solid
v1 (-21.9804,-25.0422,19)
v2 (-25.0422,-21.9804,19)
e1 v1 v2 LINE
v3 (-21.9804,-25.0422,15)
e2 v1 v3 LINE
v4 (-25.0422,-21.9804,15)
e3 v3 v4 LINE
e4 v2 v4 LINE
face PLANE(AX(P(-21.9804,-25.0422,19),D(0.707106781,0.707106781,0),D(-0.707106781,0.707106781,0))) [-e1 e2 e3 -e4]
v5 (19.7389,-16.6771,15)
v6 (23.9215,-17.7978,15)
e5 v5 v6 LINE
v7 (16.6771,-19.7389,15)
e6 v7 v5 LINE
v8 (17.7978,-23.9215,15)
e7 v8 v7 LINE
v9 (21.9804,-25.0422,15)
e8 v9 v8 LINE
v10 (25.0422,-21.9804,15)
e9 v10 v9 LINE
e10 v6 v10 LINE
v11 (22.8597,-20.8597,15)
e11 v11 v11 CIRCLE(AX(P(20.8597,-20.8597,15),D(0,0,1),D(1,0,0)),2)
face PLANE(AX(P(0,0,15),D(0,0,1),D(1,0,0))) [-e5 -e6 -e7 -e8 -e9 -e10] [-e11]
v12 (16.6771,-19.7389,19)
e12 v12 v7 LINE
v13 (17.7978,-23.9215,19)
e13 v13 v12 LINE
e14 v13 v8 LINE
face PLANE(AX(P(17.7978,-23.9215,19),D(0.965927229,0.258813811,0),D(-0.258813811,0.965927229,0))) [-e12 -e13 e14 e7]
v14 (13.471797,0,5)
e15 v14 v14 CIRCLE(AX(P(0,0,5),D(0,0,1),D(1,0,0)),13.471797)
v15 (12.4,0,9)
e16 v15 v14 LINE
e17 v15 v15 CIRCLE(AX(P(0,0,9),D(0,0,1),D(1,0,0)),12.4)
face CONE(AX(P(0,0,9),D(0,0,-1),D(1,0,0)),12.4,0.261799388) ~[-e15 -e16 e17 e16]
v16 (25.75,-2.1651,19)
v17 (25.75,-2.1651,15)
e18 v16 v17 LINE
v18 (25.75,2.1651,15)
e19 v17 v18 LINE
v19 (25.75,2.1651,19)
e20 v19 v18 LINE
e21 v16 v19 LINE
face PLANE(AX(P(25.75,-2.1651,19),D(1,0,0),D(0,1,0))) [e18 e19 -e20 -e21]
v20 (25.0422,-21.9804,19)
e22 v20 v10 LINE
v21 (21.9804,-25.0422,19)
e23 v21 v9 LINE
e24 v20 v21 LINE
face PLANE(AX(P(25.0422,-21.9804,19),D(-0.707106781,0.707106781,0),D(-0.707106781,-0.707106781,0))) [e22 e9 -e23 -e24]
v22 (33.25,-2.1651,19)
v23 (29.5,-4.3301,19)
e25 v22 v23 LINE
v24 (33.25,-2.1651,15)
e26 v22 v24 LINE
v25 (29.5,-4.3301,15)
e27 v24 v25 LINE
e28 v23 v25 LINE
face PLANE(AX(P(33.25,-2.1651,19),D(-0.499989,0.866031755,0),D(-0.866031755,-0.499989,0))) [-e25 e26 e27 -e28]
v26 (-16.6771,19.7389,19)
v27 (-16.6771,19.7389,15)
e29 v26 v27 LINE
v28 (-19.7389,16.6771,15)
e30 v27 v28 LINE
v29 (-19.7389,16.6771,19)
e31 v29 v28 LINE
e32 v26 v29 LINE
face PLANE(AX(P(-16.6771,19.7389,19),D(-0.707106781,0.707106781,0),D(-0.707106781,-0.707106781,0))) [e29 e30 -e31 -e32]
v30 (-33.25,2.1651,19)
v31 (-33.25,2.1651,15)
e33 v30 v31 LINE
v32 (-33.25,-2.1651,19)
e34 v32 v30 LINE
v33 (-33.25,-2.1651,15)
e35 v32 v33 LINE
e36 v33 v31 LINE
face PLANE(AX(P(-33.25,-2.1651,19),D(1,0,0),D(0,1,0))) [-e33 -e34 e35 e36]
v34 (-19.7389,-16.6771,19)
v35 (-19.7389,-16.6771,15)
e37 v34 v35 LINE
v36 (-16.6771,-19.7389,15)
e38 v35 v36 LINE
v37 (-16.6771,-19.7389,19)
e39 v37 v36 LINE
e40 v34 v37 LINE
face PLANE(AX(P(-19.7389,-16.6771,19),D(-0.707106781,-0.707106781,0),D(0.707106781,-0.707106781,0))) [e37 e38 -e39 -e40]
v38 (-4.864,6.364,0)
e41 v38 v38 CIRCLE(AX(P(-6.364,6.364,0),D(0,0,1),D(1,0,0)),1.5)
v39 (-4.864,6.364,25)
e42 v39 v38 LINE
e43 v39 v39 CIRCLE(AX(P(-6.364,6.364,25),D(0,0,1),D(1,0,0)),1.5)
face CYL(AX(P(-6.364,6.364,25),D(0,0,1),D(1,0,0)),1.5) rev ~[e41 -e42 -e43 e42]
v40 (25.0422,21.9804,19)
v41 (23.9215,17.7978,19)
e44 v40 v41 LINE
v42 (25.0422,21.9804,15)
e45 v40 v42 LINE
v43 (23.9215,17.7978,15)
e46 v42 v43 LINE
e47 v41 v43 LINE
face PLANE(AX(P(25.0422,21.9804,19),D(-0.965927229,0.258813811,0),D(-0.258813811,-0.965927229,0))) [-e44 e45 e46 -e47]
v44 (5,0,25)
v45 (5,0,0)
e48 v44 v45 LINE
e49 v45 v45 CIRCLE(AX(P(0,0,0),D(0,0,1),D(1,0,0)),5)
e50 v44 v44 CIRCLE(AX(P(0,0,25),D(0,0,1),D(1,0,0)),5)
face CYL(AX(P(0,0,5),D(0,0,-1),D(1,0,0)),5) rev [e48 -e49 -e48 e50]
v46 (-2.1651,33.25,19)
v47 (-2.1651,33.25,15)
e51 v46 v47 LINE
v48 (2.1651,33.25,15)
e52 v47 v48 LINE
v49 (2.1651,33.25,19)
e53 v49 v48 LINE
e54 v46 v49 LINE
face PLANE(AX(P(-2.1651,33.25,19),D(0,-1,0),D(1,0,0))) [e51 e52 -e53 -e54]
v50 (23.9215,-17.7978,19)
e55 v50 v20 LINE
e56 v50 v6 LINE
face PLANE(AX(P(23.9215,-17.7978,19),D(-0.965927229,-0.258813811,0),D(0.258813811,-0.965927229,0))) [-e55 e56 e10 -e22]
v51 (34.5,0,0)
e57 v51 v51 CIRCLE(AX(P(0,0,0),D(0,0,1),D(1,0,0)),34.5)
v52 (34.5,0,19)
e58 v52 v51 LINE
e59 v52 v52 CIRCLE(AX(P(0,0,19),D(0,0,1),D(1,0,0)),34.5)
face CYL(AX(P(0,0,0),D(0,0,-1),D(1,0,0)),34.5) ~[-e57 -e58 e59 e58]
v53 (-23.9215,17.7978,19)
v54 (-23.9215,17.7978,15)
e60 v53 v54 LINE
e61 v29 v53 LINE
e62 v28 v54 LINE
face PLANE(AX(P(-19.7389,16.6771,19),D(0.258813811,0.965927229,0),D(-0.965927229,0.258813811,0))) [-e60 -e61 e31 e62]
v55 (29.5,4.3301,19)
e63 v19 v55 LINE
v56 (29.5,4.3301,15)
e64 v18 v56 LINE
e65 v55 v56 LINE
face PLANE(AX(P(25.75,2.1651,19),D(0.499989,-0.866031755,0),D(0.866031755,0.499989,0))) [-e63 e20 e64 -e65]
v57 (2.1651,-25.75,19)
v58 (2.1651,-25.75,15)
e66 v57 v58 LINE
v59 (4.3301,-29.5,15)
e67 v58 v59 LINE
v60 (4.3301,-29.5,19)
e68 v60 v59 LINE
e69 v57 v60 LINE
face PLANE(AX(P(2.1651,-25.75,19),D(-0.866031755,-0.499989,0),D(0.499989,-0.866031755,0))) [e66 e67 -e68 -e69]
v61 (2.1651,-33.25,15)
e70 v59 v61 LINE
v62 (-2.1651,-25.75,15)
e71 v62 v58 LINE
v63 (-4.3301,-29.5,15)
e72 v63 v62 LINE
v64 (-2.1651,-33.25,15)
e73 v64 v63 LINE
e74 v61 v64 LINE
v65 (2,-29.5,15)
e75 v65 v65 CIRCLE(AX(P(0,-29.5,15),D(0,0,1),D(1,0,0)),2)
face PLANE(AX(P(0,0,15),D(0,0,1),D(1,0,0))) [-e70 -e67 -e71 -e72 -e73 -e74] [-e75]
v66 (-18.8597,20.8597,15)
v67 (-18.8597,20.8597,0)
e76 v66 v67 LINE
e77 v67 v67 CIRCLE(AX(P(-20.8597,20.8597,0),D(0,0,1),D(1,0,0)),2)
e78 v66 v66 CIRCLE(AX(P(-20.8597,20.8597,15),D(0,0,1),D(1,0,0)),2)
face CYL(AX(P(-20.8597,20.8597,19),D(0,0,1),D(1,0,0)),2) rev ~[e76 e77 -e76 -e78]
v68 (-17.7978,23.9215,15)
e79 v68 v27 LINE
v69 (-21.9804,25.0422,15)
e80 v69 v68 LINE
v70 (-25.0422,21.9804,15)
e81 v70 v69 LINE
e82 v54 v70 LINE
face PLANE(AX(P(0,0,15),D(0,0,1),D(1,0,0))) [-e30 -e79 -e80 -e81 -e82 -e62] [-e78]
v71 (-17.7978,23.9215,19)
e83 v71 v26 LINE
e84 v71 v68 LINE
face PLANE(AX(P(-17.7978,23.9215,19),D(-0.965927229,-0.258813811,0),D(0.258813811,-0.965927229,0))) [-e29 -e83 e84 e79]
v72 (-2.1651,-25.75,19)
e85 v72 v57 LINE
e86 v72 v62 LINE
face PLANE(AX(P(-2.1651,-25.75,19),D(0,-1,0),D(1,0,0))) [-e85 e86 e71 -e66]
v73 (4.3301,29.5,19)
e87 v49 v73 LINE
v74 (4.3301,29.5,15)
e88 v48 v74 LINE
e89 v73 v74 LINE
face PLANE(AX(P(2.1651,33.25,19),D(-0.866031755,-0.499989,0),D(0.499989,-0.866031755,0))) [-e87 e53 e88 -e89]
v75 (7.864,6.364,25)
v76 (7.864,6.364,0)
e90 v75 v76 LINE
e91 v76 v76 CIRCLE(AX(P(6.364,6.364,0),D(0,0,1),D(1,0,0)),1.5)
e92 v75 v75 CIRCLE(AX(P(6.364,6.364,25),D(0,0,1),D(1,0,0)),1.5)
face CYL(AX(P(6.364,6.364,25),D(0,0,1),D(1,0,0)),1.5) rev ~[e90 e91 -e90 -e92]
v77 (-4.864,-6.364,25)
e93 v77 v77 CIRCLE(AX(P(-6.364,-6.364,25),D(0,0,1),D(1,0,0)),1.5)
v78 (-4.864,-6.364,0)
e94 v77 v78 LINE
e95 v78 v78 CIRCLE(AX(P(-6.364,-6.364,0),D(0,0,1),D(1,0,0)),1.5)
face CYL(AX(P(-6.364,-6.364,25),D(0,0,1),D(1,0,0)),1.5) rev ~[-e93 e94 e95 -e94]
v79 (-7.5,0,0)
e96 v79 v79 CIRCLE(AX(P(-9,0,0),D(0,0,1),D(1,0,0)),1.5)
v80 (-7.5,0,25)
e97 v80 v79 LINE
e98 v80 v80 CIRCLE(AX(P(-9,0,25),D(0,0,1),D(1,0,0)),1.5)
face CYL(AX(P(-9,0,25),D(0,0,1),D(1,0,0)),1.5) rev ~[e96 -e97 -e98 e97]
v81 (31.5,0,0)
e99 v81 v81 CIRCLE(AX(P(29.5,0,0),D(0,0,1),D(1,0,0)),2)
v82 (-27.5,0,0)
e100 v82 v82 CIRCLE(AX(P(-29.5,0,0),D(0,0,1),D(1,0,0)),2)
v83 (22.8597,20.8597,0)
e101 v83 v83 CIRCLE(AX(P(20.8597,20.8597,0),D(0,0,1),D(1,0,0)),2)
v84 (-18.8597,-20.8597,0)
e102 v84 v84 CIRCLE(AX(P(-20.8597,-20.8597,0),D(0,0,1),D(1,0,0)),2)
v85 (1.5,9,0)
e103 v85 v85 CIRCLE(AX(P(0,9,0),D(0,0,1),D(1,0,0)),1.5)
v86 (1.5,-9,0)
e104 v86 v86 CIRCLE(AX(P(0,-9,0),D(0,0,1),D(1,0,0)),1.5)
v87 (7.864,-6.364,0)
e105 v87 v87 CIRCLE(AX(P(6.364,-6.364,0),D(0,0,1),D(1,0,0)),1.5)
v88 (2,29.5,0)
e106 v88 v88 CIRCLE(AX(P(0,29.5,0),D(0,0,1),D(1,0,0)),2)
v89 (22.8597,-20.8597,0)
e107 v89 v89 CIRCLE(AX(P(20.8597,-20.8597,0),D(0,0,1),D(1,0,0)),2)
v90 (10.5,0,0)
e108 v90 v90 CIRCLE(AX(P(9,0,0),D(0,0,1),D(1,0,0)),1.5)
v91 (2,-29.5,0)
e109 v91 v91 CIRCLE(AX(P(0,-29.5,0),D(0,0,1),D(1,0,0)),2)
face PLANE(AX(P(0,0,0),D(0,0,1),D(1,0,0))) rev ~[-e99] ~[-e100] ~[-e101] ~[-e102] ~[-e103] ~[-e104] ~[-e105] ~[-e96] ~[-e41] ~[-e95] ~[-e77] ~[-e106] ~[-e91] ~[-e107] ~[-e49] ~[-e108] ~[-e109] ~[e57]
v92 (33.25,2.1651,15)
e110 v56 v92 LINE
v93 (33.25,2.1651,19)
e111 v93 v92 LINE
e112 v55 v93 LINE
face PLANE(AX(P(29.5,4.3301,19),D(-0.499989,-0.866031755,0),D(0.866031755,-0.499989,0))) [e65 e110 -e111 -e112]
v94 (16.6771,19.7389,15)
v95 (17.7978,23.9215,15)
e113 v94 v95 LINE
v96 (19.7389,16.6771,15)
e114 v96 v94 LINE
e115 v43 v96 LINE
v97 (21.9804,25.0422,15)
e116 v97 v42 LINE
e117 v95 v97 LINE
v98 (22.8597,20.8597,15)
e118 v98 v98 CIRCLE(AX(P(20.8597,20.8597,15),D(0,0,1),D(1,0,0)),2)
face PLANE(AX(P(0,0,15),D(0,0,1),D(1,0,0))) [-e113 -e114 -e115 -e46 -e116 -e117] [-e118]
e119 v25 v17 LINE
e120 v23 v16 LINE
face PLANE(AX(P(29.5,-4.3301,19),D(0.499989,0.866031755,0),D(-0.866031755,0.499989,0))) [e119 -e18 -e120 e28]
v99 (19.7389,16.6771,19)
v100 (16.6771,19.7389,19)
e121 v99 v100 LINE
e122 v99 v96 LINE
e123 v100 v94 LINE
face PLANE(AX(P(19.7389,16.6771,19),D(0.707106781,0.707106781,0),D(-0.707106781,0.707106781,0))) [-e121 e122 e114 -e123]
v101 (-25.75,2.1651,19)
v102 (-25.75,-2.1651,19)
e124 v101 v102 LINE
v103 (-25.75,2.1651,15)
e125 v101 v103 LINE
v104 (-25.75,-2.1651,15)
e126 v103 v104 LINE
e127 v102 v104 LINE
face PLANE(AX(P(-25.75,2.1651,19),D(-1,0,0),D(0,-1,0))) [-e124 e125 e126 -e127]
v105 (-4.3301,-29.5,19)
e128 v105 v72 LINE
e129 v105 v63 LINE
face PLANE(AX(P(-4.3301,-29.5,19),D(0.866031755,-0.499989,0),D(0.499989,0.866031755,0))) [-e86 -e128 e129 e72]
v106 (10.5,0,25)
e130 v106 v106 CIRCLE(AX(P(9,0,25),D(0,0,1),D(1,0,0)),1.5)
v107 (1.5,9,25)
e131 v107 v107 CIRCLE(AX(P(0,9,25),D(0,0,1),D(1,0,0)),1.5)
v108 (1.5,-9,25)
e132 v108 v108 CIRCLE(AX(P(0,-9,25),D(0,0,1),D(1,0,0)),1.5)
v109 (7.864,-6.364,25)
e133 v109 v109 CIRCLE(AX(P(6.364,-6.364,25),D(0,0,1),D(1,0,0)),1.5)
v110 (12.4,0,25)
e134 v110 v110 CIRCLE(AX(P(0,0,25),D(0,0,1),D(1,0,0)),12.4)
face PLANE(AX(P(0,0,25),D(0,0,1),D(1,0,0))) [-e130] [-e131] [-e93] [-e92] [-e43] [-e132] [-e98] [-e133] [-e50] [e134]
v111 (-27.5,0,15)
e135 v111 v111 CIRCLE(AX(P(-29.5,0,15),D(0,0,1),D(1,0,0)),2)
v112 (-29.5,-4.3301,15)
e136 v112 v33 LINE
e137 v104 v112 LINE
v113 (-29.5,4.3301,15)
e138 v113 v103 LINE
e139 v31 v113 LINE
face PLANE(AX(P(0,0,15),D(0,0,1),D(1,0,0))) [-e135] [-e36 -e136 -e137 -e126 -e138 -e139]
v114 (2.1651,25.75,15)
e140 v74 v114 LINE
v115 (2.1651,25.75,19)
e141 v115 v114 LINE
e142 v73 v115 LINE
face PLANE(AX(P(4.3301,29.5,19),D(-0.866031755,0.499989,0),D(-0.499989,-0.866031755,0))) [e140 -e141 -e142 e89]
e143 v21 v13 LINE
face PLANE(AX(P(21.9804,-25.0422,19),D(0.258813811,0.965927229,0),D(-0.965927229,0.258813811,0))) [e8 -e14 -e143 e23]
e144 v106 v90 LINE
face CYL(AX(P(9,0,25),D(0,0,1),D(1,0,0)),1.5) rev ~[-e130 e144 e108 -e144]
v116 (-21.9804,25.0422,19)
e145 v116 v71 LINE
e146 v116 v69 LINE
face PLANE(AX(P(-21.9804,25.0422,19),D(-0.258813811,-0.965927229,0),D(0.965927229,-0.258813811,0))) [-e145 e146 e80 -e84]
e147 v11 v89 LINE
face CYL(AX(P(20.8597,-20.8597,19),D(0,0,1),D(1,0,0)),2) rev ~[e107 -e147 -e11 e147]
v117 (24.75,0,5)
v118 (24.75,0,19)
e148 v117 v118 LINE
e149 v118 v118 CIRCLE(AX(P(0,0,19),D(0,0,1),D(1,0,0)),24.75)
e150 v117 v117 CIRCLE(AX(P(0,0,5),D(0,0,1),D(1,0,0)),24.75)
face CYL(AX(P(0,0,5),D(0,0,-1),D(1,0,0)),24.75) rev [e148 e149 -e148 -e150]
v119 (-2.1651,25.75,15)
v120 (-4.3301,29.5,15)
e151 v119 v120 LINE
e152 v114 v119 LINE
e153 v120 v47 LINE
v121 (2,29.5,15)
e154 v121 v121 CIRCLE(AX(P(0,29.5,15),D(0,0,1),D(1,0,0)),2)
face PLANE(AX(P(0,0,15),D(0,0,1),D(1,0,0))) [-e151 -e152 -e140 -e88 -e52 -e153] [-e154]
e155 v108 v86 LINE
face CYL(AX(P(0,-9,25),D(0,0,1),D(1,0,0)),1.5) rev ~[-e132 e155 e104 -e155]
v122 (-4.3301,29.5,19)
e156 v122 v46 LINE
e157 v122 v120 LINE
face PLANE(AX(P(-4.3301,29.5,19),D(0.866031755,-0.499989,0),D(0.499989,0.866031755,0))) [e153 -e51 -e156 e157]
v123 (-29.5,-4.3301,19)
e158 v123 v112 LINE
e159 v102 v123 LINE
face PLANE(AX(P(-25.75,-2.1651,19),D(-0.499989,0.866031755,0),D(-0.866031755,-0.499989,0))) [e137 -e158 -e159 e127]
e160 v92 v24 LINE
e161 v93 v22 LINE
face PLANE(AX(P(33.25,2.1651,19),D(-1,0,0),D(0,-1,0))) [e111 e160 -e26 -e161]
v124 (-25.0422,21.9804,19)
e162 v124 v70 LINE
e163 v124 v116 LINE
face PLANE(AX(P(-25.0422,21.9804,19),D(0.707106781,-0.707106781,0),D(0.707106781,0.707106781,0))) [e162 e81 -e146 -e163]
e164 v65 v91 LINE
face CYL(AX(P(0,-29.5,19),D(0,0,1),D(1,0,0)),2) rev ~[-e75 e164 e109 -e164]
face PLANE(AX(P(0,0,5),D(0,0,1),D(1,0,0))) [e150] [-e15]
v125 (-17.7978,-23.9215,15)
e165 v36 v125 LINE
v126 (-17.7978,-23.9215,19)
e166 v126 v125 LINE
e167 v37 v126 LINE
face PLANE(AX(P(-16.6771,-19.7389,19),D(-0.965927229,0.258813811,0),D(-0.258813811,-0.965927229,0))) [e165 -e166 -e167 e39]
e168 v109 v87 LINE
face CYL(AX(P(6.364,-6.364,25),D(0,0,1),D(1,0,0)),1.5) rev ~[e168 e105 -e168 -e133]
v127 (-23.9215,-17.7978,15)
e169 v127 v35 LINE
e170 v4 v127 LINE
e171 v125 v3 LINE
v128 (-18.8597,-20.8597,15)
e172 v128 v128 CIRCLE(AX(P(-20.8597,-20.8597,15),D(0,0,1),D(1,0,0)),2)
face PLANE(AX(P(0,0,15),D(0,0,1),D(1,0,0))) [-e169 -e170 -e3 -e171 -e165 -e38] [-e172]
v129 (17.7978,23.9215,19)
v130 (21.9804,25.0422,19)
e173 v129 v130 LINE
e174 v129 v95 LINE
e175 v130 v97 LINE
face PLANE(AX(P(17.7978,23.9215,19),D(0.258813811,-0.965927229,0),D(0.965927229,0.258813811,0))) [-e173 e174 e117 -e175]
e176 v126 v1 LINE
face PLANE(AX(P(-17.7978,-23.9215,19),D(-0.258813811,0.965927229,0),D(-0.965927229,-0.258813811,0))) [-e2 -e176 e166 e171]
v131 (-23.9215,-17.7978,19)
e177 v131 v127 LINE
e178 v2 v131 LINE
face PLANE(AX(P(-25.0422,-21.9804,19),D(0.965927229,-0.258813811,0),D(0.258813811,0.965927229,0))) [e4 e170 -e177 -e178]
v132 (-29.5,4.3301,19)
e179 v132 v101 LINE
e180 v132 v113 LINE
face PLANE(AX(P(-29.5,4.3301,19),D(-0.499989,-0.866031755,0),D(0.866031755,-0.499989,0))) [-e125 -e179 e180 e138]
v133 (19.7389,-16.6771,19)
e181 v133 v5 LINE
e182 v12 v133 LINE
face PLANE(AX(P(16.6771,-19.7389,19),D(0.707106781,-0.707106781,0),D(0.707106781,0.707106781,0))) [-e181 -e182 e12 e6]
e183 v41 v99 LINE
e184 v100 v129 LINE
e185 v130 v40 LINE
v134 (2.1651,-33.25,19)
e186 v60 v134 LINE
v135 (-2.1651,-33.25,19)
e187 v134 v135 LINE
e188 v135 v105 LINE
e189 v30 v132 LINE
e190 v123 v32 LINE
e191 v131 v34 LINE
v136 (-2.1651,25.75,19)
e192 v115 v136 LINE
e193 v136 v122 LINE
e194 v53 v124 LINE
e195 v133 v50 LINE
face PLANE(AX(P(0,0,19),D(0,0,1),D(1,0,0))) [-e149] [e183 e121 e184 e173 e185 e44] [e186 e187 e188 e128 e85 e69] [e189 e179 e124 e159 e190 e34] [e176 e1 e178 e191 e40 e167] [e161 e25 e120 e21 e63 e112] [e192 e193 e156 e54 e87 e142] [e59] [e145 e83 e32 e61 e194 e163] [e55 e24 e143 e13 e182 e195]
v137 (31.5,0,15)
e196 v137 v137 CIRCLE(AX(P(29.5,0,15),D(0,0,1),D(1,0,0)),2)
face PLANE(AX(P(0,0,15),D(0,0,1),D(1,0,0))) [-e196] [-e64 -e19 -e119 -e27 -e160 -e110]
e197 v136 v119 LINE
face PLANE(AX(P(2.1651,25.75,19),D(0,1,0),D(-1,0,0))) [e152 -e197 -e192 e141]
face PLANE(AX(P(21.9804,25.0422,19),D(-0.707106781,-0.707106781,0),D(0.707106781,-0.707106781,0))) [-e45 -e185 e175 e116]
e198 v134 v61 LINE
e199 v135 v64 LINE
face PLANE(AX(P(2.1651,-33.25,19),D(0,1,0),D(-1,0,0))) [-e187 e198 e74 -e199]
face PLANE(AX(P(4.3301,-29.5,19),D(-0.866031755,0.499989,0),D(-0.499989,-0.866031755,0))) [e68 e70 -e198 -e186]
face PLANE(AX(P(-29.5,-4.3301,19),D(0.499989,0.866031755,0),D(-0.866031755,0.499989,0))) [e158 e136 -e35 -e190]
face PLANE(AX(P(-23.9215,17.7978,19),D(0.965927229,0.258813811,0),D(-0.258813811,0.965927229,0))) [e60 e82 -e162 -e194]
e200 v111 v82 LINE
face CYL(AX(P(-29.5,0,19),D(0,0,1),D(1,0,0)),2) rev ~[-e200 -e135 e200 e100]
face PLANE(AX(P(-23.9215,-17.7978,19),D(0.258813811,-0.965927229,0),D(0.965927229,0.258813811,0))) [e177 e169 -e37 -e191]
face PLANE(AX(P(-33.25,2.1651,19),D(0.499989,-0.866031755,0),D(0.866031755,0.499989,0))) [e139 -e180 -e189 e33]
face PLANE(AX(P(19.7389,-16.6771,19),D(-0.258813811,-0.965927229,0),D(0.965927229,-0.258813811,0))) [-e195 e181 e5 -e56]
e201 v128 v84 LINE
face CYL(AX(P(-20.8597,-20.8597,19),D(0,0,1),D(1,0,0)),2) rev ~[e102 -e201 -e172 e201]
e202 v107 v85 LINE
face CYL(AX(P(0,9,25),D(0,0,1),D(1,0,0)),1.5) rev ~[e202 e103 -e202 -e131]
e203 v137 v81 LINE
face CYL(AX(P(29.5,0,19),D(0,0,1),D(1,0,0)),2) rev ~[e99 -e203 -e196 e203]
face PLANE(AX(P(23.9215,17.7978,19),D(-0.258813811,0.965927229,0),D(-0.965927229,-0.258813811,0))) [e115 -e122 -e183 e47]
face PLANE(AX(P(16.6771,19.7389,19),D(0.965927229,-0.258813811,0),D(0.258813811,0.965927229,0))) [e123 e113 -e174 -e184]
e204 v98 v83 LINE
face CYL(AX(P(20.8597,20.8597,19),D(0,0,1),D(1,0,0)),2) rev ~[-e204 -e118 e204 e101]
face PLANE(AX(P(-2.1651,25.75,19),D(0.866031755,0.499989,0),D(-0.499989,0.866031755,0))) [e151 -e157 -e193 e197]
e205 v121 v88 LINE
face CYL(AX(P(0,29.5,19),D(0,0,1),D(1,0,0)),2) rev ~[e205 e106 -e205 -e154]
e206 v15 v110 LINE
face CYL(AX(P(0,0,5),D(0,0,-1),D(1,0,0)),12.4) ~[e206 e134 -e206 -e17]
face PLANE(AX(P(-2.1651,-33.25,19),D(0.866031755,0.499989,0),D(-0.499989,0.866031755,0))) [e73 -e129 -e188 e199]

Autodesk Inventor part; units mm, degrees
ref_plane "YZ Plane" through (0, 0, 0) normal (1, 0, 0) x (0, 1, 0)
ref_plane "XZ Plane" through (0, 0, 0) normal (0, 1, 0) x (-1, 0, 0)
ref_plane "XY Plane" through (0, 0, 0) normal (0, 0, 1) x (1, 0, 0)
sketch "Sketch1" plane through (0, 0, 0) normal (0, 0, 1) x (1, 0, 0)
  circle A0 centre (0, 0) radius 5
  circle A1 centre (0, 0) radius 34.5
  dimension "d0" = 10
  dimension "d1" = 69
extrude "Extrusion1" add sketch "Sketch1" along normal blind 5
sketch "Sketch2" plane through (0, 0, 5) normal (0, 0, 1) x (1, 0, 0)
  circle A0 centre (0, 0) radius 24.75
  circle A1 centre (0, 0) radius 34.5 projected
  dimension "d4" = 49.5
extrude "Extrusion2" add sketch "Sketch2" along normal blind 14
sketch "Sketch3" plane through (0, 0, 5) normal (0, 0, 1) x (1, 0, 0)
  circle A0 centre (0, 0) radius 12.4
  circle A1 centre (0, 0) radius 5 projected
  dimension "d7" = 24.8
extrude "Extrusion3" add sketch "Sketch3" along normal blind 20
chamfer "Chamfer1" distance 4 angle 15 1 edges at (-12.4, 0, 5) measured on face at (12.2394, -1.9891, 18.3333)
sketch "Sketch4" plane through (0, 0, 25) normal (0, 0, 1) x (1, 0, 0)
  circle A0 centre (9, 0) radius 1.5
  circle A1 centre (6.364, 6.364) radius 1.5
  circle A2 centre (0, 9) radius 1.5
  circle A3 centre (-6.364, 6.364) radius 1.5
  circle A4 centre (-9, 0) radius 1.5
  circle A5 centre (-6.364, -6.364) radius 1.5
  circle A6 centre (0, -9) radius 1.5
  circle A7 centre (6.364, -6.364) radius 1.5
  point P0 (0, 0)
  dimension "d13" = 3
  dimension "d14" = 9
  dimension "d17" = 360
extrude "Extrusion4" cut sketch "Sketch4" against normal through all
sketch "Sketch5" plane through (0, 0, 19) normal (0, 0, 1) x (1, 0, 0)
  circle A0 centre (29.5, 0) radius 2
  circle A1 centre (20.8597, 20.8597) radius 2
  circle A2 centre (0, 29.5) radius 2
  circle A3 centre (-20.8597, 20.8597) radius 2
  circle A4 centre (-29.5, 0) radius 2
  circle A5 centre (-20.8597, -20.8597) radius 2
  circle A6 centre (0, -29.5) radius 2
  circle A7 centre (20.8597, -20.8597) radius 2
  point P0 (0, 0)
  dimension "d21" = 4
  dimension "d22" = 29.5
  dimension "d25" = 360
extrude "Extrusion5" cut sketch "Sketch5" against normal through all
sketch "Sketch8" plane through (0, 0, 19) normal (0, 0, 1) x (1, 0, 0)
  circle A0 centre (29.5, 0) radius 2 projected
  circle A1 centre (29.5, 0) radius 2 projected
  line L0 (29.5, 4.3301) -> (33.25, 2.1651)
  line L1 (33.25, 2.1651) -> (33.25, -2.1651)
  line L2 (33.25, -2.1651) -> (29.5, -4.3301)
  line L3 (29.5, -4.3301) -> (25.75, -2.1651)
  line L4 (25.75, -2.1651) -> (25.75, 2.1651)
  line L5 (25.75, 2.1651) -> (29.5, 4.3301)
  line L6 (17.7978, 23.9215) -> (21.9804, 25.0422)
  line L7 (21.9804, 25.0422) -> (25.0422, 21.9804)
  line L8 (25.0422, 21.9804) -> (23.9215, 17.7978)
  line L9 (23.9215, 17.7978) -> (19.7389, 16.6771)
  line L10 (19.7389, 16.6771) -> (16.6771, 19.7389)
  line L11 (16.6771, 19.7389) -> (17.7978, 23.9215)
  line L12 (-4.3301, 29.5) -> (-2.1651, 33.25)
  line L13 (-2.1651, 33.25) -> (2.1651, 33.25)
  line L14 (2.1651, 33.25) -> (4.3301, 29.5)
  line L15 (4.3301, 29.5) -> (2.1651, 25.75)
  line L16 (2.1651, 25.75) -> (-2.1651, 25.75)
  line L17 (-2.1651, 25.75) -> (-4.3301, 29.5)
  line L18 (-23.9215, 17.7978) -> (-25.0422, 21.9804)
  line L19 (-25.0422, 21.9804) -> (-21.9804, 25.0422)
  line L20 (-21.9804, 25.0422) -> (-17.7978, 23.9215)
  line L21 (-17.7978, 23.9215) -> (-16.6771, 19.7389)
  line L22 (-16.6771, 19.7389) -> (-19.7389, 16.6771)
  line L23 (-19.7389, 16.6771) -> (-23.9215, 17.7978)
  line L24 (-29.5, -4.3301) -> (-33.25, -2.1651)
  line L25 (-33.25, -2.1651) -> (-33.25, 2.1651)
  line L26 (-33.25, 2.1651) -> (-29.5, 4.3301)
  line L27 (-29.5, 4.3301) -> (-25.75, 2.1651)
  line L28 (-25.75, 2.1651) -> (-25.75, -2.1651)
  line L29 (-25.75, -2.1651) -> (-29.5, -4.3301)
  line L30 (-17.7978, -23.9215) -> (-21.9804, -25.0422)
  line L31 (-21.9804, -25.0422) -> (-25.0422, -21.9804)
  line L32 (-25.0422, -21.9804) -> (-23.9215, -17.7978)
  line L33 (-23.9215, -17.7978) -> (-19.7389, -16.6771)
  line L34 (-19.7389, -16.6771) -> (-16.6771, -19.7389)
  line L35 (-16.6771, -19.7389) -> (-17.7978, -23.9215)
  line L36 (4.3301, -29.5) -> (2.1651, -33.25)
  line L37 (2.1651, -33.25) -> (-2.1651, -33.25)
  line L38 (-2.1651, -33.25) -> (-4.3301, -29.5)
  line L39 (-4.3301, -29.5) -> (-2.1651, -25.75)
  line L40 (-2.1651, -25.75) -> (2.1651, -25.75)
  line L41 (2.1651, -25.75) -> (4.3301, -29.5)
  line L42 (23.9215, -17.7978) -> (25.0422, -21.9804)
  line L43 (25.0422, -21.9804) -> (21.9804, -25.0422)
  line L44 (21.9804, -25.0422) -> (17.7978, -23.9215)
  line L45 (17.7978, -23.9215) -> (16.6771, -19.7389)
  line L46 (16.6771, -19.7389) -> (19.7389, -16.6771)
  line L47 (19.7389, -16.6771) -> (23.9215, -17.7978)
  point P0 (0, 0)
  point P1 (20.8597, 20.8597)
  point P2 (0, 29.5)
  point P3 (-20.8597, 20.8597)
  point P4 (-29.5, 0)
  point P5 (-20.8597, -20.8597)
  point P6 (0, -29.5)
  point P7 (20.8597, -20.8597)
  dimension "d32" = 7.5
  dimension "d35" = 360
extrude "Extrusion7" cut sketch "Sketch8" against normal blind 4 contours A0 | L0 L1 L2 L3 L4 L5 | L6 L7 L8 L9 L10 L11 | L12 L13 L14 L15 L16 L17 | L18 L19 L20 L21 L22 L23 | L24 L25 L26 L27 L28 L29 | L30 L31 L32 L33 L34 L35 | L36 L37 L38 L39 L40 L41 | L42 L43 L44 L45 L46 L47
properties part number "CS01" material "ABS Plastic"
